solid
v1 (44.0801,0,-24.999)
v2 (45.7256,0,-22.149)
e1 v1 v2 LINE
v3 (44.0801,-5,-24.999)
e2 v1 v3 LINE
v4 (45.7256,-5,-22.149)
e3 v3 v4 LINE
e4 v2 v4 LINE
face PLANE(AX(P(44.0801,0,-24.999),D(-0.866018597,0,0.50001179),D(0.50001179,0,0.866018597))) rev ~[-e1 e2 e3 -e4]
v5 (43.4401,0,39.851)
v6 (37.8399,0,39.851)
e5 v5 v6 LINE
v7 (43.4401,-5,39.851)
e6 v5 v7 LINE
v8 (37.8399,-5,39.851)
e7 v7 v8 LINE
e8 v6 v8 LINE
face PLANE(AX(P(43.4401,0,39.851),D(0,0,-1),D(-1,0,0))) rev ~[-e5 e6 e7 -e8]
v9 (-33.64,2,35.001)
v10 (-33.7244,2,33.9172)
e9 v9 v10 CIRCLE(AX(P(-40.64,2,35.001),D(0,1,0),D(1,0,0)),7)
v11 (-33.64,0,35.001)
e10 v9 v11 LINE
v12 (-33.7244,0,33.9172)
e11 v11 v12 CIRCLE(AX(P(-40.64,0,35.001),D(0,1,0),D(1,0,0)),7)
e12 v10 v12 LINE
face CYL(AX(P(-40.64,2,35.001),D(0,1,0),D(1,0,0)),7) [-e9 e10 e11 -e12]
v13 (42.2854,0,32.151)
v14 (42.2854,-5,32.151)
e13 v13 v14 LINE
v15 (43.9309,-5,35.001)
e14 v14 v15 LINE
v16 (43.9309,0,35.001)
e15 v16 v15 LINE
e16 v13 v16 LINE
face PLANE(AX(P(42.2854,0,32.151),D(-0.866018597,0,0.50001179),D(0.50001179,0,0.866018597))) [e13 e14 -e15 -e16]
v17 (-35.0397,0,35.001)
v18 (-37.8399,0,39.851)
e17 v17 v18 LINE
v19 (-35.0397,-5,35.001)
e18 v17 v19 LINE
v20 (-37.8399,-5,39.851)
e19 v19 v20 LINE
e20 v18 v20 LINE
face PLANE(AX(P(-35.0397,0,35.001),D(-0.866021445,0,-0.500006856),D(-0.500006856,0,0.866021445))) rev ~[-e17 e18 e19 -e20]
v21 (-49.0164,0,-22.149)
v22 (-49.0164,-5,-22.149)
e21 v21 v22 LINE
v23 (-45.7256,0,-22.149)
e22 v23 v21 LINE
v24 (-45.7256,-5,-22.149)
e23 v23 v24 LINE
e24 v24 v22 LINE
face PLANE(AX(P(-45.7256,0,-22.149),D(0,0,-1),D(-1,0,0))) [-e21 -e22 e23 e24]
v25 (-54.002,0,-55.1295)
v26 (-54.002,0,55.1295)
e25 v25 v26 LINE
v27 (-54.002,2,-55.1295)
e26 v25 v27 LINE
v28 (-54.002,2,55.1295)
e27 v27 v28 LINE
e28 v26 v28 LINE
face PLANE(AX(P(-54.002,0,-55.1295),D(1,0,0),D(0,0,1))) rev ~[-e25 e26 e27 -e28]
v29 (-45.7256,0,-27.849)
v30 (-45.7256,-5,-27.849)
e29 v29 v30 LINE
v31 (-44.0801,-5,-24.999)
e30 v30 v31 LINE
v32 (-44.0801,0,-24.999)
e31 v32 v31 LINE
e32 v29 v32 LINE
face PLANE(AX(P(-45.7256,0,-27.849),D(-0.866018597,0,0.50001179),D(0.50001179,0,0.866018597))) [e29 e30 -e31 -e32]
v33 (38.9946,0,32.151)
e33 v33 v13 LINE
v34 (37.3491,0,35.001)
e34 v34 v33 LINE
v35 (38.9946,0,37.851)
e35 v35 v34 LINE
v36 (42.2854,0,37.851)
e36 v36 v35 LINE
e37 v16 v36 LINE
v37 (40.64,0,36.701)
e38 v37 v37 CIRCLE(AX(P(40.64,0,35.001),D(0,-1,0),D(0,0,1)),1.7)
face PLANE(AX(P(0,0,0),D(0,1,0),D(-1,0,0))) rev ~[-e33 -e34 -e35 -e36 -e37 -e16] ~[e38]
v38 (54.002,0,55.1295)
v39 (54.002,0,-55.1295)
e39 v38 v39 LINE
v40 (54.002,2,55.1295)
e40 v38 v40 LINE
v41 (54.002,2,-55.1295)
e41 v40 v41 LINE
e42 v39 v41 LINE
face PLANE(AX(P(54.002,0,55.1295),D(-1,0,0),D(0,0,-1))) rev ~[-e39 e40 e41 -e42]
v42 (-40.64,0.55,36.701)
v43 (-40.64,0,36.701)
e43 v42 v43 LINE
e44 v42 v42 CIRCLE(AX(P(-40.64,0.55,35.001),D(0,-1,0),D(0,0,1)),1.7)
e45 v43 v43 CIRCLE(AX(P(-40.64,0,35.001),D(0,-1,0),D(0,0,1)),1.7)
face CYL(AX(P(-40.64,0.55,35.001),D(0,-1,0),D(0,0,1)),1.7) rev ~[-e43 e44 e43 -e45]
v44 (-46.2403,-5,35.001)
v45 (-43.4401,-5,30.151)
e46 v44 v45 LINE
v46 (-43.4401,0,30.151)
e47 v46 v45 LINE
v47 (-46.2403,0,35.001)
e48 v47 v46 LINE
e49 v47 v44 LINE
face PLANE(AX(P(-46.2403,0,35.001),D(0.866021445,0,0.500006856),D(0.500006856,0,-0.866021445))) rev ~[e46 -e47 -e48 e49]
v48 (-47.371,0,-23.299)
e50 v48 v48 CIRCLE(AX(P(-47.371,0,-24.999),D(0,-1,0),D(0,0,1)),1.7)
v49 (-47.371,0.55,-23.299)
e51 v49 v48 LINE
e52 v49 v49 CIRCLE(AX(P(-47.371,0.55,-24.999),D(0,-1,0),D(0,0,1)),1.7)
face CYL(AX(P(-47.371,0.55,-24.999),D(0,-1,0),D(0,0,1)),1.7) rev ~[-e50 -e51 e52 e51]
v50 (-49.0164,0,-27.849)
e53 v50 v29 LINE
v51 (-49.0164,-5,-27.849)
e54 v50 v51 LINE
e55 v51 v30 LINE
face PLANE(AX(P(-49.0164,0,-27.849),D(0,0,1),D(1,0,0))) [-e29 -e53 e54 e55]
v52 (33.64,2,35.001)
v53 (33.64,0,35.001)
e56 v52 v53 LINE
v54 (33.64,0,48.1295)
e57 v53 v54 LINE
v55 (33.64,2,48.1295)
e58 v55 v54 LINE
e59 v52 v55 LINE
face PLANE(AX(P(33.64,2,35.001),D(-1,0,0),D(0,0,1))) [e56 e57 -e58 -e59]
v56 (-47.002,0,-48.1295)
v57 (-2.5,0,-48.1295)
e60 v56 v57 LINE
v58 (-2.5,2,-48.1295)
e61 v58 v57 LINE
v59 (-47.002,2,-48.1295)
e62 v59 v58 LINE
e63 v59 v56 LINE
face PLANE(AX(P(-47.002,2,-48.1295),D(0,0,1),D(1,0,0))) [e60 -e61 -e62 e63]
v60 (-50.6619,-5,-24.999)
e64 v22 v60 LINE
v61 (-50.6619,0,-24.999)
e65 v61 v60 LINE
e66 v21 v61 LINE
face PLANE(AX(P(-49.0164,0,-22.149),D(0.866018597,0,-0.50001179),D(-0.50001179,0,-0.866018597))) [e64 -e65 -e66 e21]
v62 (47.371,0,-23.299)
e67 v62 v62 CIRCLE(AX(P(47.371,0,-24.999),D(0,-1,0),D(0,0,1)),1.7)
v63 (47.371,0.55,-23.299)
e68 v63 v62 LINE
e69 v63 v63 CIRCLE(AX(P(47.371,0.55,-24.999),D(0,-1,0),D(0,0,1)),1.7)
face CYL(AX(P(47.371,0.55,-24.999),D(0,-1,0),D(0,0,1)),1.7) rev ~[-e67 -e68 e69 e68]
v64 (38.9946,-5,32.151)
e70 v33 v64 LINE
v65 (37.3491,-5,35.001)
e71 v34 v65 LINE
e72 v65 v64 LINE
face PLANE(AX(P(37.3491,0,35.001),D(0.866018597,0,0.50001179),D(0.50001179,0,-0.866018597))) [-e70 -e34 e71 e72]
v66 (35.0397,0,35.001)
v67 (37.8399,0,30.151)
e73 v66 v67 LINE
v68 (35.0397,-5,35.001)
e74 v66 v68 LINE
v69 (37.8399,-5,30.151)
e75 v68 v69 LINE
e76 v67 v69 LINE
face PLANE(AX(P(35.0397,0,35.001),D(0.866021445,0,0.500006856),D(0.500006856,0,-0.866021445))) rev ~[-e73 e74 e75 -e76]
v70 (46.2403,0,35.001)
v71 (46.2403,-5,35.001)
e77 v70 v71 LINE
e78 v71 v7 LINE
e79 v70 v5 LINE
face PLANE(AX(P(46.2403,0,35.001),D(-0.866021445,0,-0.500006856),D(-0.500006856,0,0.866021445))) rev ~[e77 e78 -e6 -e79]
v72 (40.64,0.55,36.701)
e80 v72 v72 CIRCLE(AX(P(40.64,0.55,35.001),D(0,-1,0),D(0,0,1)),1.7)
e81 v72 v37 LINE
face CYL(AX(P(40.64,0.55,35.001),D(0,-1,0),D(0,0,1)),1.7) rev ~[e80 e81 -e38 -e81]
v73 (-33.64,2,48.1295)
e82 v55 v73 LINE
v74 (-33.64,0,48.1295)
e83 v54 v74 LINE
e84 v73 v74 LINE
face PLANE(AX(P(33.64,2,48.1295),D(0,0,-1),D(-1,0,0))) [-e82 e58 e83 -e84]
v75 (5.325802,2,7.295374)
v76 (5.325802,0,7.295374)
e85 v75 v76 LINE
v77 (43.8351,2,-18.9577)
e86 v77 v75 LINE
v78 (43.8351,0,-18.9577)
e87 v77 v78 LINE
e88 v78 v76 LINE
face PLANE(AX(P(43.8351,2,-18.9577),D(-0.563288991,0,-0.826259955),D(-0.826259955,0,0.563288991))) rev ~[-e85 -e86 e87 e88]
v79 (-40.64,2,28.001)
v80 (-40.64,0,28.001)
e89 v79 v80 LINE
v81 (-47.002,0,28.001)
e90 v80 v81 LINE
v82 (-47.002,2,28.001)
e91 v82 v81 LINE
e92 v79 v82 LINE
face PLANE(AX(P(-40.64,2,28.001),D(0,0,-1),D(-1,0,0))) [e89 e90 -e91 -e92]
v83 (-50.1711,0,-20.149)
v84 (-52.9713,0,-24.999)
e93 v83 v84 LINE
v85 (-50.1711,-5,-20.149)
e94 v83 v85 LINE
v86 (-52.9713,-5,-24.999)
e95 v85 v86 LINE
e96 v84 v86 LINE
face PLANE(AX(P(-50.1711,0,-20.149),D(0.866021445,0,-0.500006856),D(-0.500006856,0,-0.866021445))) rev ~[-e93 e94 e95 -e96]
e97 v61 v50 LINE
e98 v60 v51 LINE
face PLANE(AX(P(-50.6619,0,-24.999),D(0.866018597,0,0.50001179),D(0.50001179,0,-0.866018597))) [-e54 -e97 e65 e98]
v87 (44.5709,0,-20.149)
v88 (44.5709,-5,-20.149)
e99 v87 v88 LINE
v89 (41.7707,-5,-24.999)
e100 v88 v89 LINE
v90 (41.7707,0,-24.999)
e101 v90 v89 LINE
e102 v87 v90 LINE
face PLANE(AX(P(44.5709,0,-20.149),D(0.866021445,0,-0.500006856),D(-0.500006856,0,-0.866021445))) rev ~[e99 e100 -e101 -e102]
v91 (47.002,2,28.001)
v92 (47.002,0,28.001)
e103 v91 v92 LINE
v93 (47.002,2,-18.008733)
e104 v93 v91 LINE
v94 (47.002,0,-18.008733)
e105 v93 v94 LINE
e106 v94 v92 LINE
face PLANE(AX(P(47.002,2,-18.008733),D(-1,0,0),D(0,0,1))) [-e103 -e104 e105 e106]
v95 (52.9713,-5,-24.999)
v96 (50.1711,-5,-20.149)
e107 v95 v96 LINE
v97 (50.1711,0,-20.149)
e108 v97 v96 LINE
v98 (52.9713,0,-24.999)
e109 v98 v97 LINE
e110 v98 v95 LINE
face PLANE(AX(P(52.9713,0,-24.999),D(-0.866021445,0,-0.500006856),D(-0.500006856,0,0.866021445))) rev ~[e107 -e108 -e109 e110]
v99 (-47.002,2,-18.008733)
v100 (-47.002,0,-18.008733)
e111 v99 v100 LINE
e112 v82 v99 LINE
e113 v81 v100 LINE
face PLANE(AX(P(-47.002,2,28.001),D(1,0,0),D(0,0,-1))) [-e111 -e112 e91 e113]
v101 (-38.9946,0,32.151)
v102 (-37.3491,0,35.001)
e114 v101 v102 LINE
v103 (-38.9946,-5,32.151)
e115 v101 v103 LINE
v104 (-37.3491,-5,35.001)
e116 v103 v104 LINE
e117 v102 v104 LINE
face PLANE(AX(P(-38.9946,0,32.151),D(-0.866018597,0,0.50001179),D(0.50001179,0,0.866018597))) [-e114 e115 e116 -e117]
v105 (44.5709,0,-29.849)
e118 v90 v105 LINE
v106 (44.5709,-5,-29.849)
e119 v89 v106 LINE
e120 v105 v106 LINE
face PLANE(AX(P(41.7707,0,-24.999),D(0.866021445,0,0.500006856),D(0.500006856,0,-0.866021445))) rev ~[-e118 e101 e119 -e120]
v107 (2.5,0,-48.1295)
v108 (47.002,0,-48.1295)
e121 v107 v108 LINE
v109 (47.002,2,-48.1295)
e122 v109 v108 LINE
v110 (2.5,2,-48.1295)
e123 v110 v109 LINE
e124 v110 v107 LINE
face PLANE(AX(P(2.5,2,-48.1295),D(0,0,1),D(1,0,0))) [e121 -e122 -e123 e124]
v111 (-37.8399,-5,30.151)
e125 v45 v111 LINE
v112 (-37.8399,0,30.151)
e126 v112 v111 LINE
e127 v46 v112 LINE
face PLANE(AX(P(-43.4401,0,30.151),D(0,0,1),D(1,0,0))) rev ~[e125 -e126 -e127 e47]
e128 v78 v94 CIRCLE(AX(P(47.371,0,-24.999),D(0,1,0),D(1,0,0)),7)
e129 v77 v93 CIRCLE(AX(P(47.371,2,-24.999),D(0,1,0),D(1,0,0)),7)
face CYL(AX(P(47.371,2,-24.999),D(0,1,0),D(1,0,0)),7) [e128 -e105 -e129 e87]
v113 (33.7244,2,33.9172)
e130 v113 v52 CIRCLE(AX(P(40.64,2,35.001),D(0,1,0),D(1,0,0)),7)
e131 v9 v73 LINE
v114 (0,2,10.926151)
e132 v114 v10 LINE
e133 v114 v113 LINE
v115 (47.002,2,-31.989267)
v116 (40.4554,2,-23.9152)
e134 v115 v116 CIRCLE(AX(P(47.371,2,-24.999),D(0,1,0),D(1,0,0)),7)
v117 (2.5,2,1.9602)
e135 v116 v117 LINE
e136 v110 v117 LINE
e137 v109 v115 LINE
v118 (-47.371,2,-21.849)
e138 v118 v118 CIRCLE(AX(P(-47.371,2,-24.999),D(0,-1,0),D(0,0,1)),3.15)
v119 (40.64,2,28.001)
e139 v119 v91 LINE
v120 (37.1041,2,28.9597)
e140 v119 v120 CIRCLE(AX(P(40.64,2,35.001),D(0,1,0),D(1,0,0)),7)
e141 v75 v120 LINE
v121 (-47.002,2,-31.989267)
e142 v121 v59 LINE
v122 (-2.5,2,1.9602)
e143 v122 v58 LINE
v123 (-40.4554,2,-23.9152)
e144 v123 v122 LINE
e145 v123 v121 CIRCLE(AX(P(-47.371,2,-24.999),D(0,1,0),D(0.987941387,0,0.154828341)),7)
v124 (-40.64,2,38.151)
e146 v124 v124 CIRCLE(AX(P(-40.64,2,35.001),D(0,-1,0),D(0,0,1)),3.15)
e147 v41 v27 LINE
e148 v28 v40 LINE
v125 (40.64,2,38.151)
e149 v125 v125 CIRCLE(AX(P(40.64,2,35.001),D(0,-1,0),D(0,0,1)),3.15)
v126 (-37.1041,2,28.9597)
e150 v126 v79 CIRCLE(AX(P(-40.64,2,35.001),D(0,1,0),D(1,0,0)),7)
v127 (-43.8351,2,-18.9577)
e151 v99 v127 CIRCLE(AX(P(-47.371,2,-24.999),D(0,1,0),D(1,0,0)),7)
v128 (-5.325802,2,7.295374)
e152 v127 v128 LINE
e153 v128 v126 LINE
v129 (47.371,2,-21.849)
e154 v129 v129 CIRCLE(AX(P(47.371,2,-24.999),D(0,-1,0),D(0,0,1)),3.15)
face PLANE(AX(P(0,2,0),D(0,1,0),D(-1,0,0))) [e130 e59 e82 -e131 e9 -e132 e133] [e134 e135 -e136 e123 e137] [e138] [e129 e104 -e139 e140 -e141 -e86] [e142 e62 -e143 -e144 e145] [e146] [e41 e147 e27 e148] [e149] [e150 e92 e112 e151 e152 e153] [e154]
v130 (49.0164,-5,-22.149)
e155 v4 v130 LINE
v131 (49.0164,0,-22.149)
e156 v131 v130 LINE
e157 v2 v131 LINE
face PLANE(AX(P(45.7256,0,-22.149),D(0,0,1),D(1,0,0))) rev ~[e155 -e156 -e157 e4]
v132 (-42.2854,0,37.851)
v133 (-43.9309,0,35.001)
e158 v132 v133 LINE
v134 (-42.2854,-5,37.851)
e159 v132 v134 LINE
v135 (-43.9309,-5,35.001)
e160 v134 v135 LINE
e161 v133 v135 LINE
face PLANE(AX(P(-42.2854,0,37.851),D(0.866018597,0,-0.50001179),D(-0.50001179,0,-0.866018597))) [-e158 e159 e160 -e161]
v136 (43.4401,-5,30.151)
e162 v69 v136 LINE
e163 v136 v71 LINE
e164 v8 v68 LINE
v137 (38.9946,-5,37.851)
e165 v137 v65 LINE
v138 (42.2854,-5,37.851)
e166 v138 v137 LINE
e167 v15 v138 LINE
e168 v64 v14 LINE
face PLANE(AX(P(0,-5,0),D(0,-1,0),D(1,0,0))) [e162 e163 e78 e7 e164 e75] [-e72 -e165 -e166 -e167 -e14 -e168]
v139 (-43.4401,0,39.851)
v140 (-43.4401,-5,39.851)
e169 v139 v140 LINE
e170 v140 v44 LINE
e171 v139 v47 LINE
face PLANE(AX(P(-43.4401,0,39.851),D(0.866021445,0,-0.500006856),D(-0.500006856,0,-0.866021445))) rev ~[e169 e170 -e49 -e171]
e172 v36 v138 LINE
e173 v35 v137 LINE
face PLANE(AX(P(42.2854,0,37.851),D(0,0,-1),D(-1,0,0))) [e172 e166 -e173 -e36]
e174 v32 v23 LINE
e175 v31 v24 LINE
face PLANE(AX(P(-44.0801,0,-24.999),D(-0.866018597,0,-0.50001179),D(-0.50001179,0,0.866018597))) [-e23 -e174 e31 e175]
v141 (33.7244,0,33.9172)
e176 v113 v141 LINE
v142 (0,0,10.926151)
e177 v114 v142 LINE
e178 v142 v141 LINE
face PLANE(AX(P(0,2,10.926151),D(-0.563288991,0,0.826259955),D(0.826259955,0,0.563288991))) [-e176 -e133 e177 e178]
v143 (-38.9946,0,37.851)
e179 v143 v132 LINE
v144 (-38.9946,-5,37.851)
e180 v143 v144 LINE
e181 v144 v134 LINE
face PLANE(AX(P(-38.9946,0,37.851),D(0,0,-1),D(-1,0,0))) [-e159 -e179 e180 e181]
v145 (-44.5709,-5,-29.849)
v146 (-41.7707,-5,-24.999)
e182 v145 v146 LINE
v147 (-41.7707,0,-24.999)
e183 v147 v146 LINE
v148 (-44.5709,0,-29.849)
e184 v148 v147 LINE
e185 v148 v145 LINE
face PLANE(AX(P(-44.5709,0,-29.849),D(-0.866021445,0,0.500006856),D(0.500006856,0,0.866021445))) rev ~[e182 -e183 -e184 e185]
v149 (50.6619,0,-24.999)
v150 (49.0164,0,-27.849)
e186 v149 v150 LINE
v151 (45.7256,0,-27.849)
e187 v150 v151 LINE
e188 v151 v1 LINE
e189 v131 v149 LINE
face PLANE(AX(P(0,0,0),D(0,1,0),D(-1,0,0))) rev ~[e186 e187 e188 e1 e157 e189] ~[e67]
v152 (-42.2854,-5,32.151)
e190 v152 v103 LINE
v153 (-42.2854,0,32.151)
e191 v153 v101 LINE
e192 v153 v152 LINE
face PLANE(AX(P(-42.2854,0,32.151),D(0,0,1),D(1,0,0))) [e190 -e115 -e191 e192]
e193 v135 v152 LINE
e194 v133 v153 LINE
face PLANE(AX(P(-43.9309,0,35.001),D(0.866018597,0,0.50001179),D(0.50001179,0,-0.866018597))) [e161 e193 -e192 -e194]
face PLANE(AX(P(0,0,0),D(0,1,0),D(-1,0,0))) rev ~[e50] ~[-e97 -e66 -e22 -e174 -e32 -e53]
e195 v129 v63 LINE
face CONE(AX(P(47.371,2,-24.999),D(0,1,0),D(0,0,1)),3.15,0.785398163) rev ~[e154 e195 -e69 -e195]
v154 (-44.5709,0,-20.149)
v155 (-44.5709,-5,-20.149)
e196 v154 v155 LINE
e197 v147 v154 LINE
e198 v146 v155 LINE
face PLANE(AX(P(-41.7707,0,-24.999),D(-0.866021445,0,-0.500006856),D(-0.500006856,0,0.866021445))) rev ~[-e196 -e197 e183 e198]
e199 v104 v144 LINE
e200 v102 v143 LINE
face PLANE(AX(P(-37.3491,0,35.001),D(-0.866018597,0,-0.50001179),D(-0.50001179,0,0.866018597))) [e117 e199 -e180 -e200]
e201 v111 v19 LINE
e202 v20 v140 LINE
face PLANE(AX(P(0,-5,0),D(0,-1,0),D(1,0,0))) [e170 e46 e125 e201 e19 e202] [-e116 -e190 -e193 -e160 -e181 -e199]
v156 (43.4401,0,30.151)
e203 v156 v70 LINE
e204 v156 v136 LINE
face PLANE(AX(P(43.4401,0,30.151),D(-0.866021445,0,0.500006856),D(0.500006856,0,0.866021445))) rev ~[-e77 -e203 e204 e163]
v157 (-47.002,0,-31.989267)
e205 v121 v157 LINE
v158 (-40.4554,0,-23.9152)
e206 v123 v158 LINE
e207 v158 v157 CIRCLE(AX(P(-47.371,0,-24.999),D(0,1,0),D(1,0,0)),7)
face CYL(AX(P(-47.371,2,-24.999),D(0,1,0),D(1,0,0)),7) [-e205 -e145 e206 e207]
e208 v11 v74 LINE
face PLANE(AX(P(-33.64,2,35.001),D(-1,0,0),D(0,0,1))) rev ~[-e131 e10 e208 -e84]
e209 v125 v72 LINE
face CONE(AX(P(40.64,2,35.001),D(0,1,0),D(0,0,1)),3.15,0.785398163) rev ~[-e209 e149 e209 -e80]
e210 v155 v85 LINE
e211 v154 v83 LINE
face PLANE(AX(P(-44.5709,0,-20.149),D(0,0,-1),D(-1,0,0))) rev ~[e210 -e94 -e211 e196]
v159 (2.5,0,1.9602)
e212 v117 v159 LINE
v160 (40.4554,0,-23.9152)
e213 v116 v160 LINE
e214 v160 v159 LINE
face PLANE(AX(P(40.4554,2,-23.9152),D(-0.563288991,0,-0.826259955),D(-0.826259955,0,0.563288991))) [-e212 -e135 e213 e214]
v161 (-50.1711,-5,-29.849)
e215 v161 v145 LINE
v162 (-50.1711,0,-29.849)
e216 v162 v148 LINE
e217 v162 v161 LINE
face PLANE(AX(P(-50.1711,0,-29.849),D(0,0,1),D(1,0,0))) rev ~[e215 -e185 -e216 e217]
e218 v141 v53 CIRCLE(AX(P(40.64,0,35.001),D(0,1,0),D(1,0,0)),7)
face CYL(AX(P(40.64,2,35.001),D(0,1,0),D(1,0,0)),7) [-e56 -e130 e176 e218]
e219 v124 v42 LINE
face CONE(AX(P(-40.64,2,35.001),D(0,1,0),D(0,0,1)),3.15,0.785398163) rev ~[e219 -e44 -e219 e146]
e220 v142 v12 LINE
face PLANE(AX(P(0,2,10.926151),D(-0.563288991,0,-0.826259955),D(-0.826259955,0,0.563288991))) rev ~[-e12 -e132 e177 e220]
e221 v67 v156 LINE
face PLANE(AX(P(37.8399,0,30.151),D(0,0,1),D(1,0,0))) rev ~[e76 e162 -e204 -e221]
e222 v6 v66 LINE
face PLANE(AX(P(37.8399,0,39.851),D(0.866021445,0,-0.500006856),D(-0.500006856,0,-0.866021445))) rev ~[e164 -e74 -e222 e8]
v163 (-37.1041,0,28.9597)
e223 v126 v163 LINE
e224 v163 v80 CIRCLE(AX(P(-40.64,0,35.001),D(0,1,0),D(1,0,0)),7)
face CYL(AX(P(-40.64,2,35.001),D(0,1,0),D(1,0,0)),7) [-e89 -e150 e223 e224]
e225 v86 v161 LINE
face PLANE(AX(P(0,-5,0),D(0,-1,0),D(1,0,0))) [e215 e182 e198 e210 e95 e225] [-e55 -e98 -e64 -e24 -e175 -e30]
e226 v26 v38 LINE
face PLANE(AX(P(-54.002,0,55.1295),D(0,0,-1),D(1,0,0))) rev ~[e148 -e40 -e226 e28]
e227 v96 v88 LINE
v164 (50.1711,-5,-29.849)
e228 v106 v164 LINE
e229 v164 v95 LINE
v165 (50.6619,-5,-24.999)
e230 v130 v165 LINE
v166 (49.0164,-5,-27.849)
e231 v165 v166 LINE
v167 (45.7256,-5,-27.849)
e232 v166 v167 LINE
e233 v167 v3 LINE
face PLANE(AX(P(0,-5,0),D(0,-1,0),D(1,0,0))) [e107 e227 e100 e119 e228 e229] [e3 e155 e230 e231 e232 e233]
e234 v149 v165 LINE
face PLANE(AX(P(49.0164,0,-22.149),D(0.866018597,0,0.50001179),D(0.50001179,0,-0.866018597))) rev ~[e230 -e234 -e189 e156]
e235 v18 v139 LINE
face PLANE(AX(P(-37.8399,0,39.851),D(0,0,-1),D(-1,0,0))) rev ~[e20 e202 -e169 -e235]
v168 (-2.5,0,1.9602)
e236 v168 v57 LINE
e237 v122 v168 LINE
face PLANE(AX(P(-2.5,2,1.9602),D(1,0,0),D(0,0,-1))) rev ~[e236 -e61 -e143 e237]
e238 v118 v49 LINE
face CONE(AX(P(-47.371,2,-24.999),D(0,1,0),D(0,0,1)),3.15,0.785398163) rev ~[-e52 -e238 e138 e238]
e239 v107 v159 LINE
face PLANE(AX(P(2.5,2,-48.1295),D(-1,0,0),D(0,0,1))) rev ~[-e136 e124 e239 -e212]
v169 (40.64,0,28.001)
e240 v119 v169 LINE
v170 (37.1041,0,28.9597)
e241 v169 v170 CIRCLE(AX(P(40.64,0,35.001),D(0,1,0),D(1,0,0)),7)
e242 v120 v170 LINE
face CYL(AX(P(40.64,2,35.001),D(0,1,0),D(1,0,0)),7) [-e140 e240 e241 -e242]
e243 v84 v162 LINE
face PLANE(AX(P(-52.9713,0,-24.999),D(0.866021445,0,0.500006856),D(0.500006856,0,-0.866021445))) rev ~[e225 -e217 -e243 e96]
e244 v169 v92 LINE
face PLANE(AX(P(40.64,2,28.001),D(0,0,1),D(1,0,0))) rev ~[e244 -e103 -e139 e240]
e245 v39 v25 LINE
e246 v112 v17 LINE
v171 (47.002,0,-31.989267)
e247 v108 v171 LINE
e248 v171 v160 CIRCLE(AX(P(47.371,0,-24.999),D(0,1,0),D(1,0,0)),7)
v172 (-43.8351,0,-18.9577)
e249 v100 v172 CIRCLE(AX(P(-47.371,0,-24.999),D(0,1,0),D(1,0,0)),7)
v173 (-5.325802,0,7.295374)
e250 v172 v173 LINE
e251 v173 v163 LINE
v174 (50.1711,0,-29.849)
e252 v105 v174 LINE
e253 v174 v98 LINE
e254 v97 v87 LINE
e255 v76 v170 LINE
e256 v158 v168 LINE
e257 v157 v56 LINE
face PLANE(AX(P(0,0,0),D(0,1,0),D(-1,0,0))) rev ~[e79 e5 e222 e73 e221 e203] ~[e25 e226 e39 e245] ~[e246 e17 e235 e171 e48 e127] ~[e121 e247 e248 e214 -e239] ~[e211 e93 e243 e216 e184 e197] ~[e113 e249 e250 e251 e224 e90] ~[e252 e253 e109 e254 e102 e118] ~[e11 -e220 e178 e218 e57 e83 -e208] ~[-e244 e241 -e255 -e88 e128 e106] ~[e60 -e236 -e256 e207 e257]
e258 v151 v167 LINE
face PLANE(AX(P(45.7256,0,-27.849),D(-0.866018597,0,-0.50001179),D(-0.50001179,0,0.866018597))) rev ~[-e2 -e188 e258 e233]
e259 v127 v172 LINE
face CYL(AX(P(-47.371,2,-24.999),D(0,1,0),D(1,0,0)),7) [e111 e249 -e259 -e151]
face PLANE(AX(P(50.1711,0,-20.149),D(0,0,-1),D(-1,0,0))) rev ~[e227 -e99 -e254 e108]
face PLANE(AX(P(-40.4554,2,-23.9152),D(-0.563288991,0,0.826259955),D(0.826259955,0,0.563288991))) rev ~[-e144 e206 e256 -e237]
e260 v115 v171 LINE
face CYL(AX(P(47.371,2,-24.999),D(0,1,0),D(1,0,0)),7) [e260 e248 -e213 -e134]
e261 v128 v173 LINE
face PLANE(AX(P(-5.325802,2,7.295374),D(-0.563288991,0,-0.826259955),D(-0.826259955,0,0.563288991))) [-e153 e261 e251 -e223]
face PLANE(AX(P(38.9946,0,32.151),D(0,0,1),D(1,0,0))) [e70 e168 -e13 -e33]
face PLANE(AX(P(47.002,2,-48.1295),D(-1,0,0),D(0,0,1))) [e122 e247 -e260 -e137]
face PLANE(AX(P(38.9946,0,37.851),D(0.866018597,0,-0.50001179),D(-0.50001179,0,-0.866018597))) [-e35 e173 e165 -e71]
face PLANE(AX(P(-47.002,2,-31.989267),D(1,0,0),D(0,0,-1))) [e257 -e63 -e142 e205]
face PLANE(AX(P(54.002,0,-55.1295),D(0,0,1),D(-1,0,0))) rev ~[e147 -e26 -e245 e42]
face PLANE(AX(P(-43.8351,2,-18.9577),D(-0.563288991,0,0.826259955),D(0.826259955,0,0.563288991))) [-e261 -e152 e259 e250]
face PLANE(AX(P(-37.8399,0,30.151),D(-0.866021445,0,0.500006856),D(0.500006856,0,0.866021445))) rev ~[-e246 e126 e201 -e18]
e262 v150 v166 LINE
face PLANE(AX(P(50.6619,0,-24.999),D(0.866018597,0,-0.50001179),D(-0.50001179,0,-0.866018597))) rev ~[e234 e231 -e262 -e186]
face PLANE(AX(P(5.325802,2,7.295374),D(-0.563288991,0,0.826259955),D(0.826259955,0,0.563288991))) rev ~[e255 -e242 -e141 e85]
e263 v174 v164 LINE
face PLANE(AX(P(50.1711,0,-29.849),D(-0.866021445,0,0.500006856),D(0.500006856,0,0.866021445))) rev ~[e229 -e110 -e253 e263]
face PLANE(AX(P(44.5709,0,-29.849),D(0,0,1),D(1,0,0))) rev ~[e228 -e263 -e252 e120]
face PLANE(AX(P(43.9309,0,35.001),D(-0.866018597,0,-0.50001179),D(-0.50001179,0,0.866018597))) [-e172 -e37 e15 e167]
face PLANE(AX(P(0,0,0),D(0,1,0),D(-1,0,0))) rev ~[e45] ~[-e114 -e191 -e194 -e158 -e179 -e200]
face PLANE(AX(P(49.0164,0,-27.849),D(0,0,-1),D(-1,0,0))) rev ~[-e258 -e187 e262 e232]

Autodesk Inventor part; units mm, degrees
ref_plane "YZ Plane" through (0, 0, 0) normal (1, 0, 0) x (0, 1, 0)
ref_plane "XZ Plane" through (0, 0, 0) normal (0, 1, 0) x (-1, 0, 0)
ref_plane "XY Plane" through (0, 0, 0) normal (0, 0, 1) x (1, 0, 0)
sketch "Sketch1" plane through (0, 0, 0) normal (0, 1, 0) x (-1, 0, 0)
  circle A0 centre (0, 0) radius 80 construction
  line L0 (56.002, 57.1295) -> (-56.002, 57.1295) construction
  line L1 (-56.002, 57.1295) -> (-56.002, -57.1295) construction
  line L2 (-56.002, -57.1295) -> (56.002, -57.1295) construction
  line L3 (56.002, -57.1295) -> (56.002, 57.1295) construction
  line L4 (56.002, 57.1295) -> (-56.002, -57.1295) construction
  line L5 (-56.002, 57.1295) -> (56.002, -57.1295) construction
  line L6 (54.002, 55.1295) -> (-54.002, 55.1295)
  line L7 (-54.002, 55.1295) -> (-54.002, -55.1295)
  line L8 (-54.002, -55.1295) -> (54.002, -55.1295)
  line L9 (54.002, -55.1295) -> (54.002, 55.1295)
  dimension "d0" = 160
  dimension "d1" = 2
extrude "Extrusion1" add sketch "Sketch1" along normal blind 2
sketch "Sketch2" plane through (0, 0, 0) normal (0, -1, 0) x (1, 0, 0)
  line L0 (-39.0523, 32.251) -> (-42.2277, 32.251) construction
  line L1 (-42.2277, 32.251) -> (-43.8154, 35.001) construction
  line L2 (-43.8154, 35.001) -> (-42.2277, 37.751) construction
  line L3 (-42.2277, 37.751) -> (-39.0523, 37.751) construction
  line L4 (-39.0523, 37.751) -> (-37.4646, 35.001) construction
  line L5 (-37.4646, 35.001) -> (-39.0523, 32.251) construction
  line L6 (42.2277, 32.251) -> (39.0523, 32.251) construction
  line L7 (39.0523, 32.251) -> (37.4646, 35.001) construction
  line L8 (37.4646, 35.001) -> (39.0523, 37.751) construction
  line L9 (39.0523, 37.751) -> (42.2277, 37.751) construction
  line L10 (42.2277, 37.751) -> (43.8154, 35.001) construction
  line L11 (43.8154, 35.001) -> (42.2277, 32.251) construction
  line L12 (48.9587, -27.749) -> (45.7833, -27.749) construction
  line L13 (45.7833, -27.749) -> (44.1956, -24.999) construction
  line L14 (44.1956, -24.999) -> (45.7833, -22.249) construction
  line L15 (45.7833, -22.249) -> (48.9587, -22.249) construction
  line L16 (48.9587, -22.249) -> (50.5464, -24.999) construction
  line L17 (50.5464, -24.999) -> (48.9587, -27.749) construction
  line L18 (-45.7833, -22.249) -> (-44.1956, -24.999) construction
  line L19 (-44.1956, -24.999) -> (-45.7833, -27.749) construction
  line L20 (-45.7833, -27.749) -> (-48.9587, -27.749) construction
  line L21 (-48.9587, -27.749) -> (-50.5464, -24.999) construction
  line L22 (-50.5464, -24.999) -> (-48.9587, -22.249) construction
  line L23 (-48.9587, -22.249) -> (-45.7833, -22.249) construction
  line L24 (-47.371, -24.999) -> (47.371, -24.999) construction
  line L25 (-40.64, 35.001) -> (40.64, 35.001) construction
  line L26 (-75.6027, 0) -> (75.6027, 0) construction
  line L27 (0, -77.1813) -> (0, 77.1813) construction
  line L28 (-37.3491, 35.001) -> (-38.9946, 37.851)
  line L29 (-38.9946, 37.851) -> (-42.2854, 37.851)
  line L30 (-42.2854, 37.851) -> (-43.9309, 35.001)
  line L31 (-43.9309, 35.001) -> (-42.2854, 32.151)
  line L32 (-42.2854, 32.151) -> (-38.9946, 32.151)
  line L33 (-38.9946, 32.151) -> (-37.3491, 35.001)
  line L34 (49.0164, -27.849) -> (45.7256, -27.849)
  line L35 (45.7256, -27.849) -> (44.0801, -24.999)
  line L36 (44.0801, -24.999) -> (45.7256, -22.149)
  line L37 (45.7256, -22.149) -> (49.0164, -22.149)
  line L38 (49.0164, -22.149) -> (50.6619, -24.999)
  line L39 (50.6619, -24.999) -> (49.0164, -27.849)
  line L40 (43.9309, 35.001) -> (42.2854, 37.851)
  line L41 (42.2854, 37.851) -> (38.9946, 37.851)
  line L42 (38.9946, 37.851) -> (37.3491, 35.001)
  line L43 (37.3491, 35.001) -> (38.9946, 32.151)
  line L44 (38.9946, 32.151) -> (42.2854, 32.151)
  line L45 (42.2854, 32.151) -> (43.9309, 35.001)
  line L46 (-45.7256, -27.849) -> (-44.0801, -24.999)
  line L47 (-44.0801, -24.999) -> (-45.7256, -22.149)
  line L48 (-45.7256, -22.149) -> (-49.0164, -22.149)
  line L49 (-49.0164, -22.149) -> (-50.6619, -24.999)
  line L50 (-50.6619, -24.999) -> (-49.0164, -27.849)
  line L51 (-49.0164, -27.849) -> (-45.7256, -27.849)
  line L52 (-35.0397, 35.001) -> (-37.8399, 39.851)
  line L53 (-37.8399, 39.851) -> (-43.4401, 39.851)
  line L54 (-43.4401, 39.851) -> (-46.2403, 35.001)
  line L55 (-46.2403, 35.001) -> (-43.4401, 30.151)
  line L56 (-43.4401, 30.151) -> (-37.8399, 30.151)
  line L57 (-37.8399, 30.151) -> (-35.0397, 35.001)
  line L58 (46.2403, 35.001) -> (43.4401, 39.851)
  line L59 (43.4401, 39.851) -> (37.8399, 39.851)
  line L60 (37.8399, 39.851) -> (35.0397, 35.001)
  line L61 (35.0397, 35.001) -> (37.8399, 30.151)
  line L62 (37.8399, 30.151) -> (43.4401, 30.151)
  line L63 (43.4401, 30.151) -> (46.2403, 35.001)
  line L64 (44.5709, -29.849) -> (50.1711, -29.849)
  line L65 (50.1711, -29.849) -> (52.9713, -24.999)
  line L66 (52.9713, -24.999) -> (50.1711, -20.149)
  line L67 (50.1711, -20.149) -> (44.5709, -20.149)
  line L68 (44.5709, -20.149) -> (41.7707, -24.999)
  line L69 (41.7707, -24.999) -> (44.5709, -29.849)
  line L70 (-44.5709, -29.849) -> (-41.7707, -24.999)
  line L71 (-41.7707, -24.999) -> (-44.5709, -20.149)
  line L72 (-44.5709, -20.149) -> (-50.1711, -20.149)
  line L73 (-50.1711, -20.149) -> (-52.9713, -24.999)
  line L74 (-52.9713, -24.999) -> (-50.1711, -29.849)
  line L75 (-50.1711, -29.849) -> (-44.5709, -29.849)
  point P0 (0, 0)
  point P1 (0, 35.001)
  point P2 (0, -24.999)
  dimension "d4" = 5.5
  dimension "d5" = 5.5
  dimension "d6" = 5.5
  dimension "d7" = 5.5
  dimension "d8" = 81.28
  dimension "d9" = 94.742
  dimension "d10" = 24.999
  dimension "d11" = 35.001
  dimension "d12" = 0.1
  dimension "d13" = 0.1
  dimension "d14" = 0.1
  dimension "d15" = 0.1
  dimension "d16" = 2
  dimension "d17" = 2
  dimension "d18" = 2
  dimension "d19" = 2
extrude "Extrusion2" add sketch "Sketch2" along normal blind 5
sketch "Sketch3" plane through (0, 2, 0) normal (0, 1, 0) x (1, 0, 0)
  line L0 (-42.2854, -37.851) -> (-43.9309, -35.001) construction
  line L1 (-43.9309, -35.001) -> (-42.2854, -32.151) construction
  line L2 (-42.2854, -32.151) -> (-38.9946, -32.151) construction
  line L3 (-38.9946, -32.151) -> (-37.3491, -35.001) construction
  line L4 (-37.3491, -35.001) -> (-38.9946, -37.851) construction
  line L5 (-38.9946, -37.851) -> (-42.2854, -37.851) construction
  line L6 (-50.6619, 24.999) -> (-49.0164, 27.849) construction
  line L7 (-49.0164, 27.849) -> (-45.7256, 27.849) construction
  line L8 (-45.7256, 27.849) -> (-44.0801, 24.999) construction
  line L9 (-44.0801, 24.999) -> (-45.7256, 22.149) construction
  line L10 (-45.7256, 22.149) -> (-49.0164, 22.149) construction
  line L11 (-49.0164, 22.149) -> (-50.6619, 24.999) construction
  line L12 (50.6619, 24.999) -> (49.0164, 22.149) construction
  line L13 (49.0164, 22.149) -> (45.7256, 22.149) construction
  line L14 (45.7256, 22.149) -> (44.0801, 24.999) construction
  line L15 (44.0801, 24.999) -> (45.7256, 27.849) construction
  line L16 (45.7256, 27.849) -> (49.0164, 27.849) construction
  line L17 (49.0164, 27.849) -> (50.6619, 24.999) construction
  line L18 (42.2854, -32.151) -> (43.9309, -35.001) construction
  line L19 (43.9309, -35.001) -> (42.2854, -37.851) construction
  line L20 (42.2854, -37.851) -> (38.9946, -37.851) construction
  line L21 (38.9946, -37.851) -> (37.3491, -35.001) construction
  line L22 (37.3491, -35.001) -> (38.9946, -32.151) construction
  line L23 (38.9946, -32.151) -> (42.2854, -32.151) construction
  line L24 (47.371, 27.849) -> (47.371, 22.149) construction
  line L25 (49.0164, 22.149) -> (50.6619, 24.999) construction
  line L26 (-49.0164, 22.149) -> (-50.6619, 24.999) construction
  line L27 (50.6619, 24.999) -> (-50.6619, 24.999) construction
  line L28 (-49.0164, 27.849) -> (-45.7256, 27.849) construction
  line L29 (-47.371, 27.849) -> (-47.371, 22.149) construction
  line L30 (-45.7256, 22.149) -> (-49.0164, 22.149) construction
  line L31 (-38.9946, -37.851) -> (-42.2854, -37.851) construction
  line L32 (-40.64, -37.851) -> (-40.64, -32.151) construction
  line L33 (-43.9309, -35.001) -> (43.9309, -35.001) construction
  line L34 (38.9946, -32.151) -> (42.2854, -32.151) construction
  line L35 (40.64, -32.151) -> (40.64, -37.851) construction
  point P0 (0, 0)
  point P1 (-47.371, 24.999)
  point P2 (47.371, 24.999)
  point P3 (40.64, -35.001)
  point P4 (-40.64, -35.001)
hole "Hole1" at (-47.371, 2, -24.999) at (47.371, 2, -24.999) at (40.64, 2, 35.001) at (-40.64, 2, 35.001) direction (0, -1, 0) diameter 3.4 end through all countersink diameter 6.3 countersink angle 90 clearance for "Countersunk Flat Head Screw ISO 2009/7046" size "M3" standard "ISO"
sketch "Sketch4" plane through (0, 2, 0) normal (0, 1, 0) x (1, 0, 0)
  circle A0 centre (47.371, 24.999) radius 3.15 construction
  circle A1 centre (-47.371, 24.999) radius 3.15 construction
  line L0 (54.002, 55.1295) -> (-54.002, 55.1295) construction
  circle A2 centre (40.64, -35.001) radius 3.15 construction
  circle A3 centre (-40.64, -35.001) radius 3.15 construction
  line L1 (-54.002, -55.1295) -> (54.002, -55.1295) construction
  circle A4 centre (-47.371, 24.999) radius 1.7 construction
  circle A5 centre (40.64, -35.001) radius 1.7 construction
  line L2 (-47.371, 24.999) -> (40.64, -35.001) construction
  line L3 (47.371, 24.999) -> (-40.64, -35.001) construction
  line L4 (-40.4554, 23.9152) -> (37.1041, -28.9597)
  line L5 (-43.8351, 18.9577) -> (33.7244, -33.9172)
  line L6 (43.8351, 18.9577) -> (-33.7244, -33.9172)
  line L7 (40.4554, 23.9152) -> (-37.1041, -28.9597)
  line L8 (-2.5, 48.1295) -> (2.5, 48.1295)
  line L9 (2.5, 48.1295) -> (2.5, -1.9602)
  line L10 (2.5, -1.9602) -> (-2.5, -1.9602)
  line L11 (-2.5, -1.9602) -> (-2.5, 48.1295)
  circle A6 centre (-47.371, 24.999) radius 7
  circle A7 centre (47.371, 24.999) radius 1.7 projected
  circle A8 centre (47.371, 24.999) radius 7
  circle A9 centre (40.64, -35.001) radius 7
  circle A10 centre (-40.64, -35.001) radius 7
  circle A11 centre (40.64, -35.001) radius 3.15 construction
  circle A12 centre (-47.371, 24.999) radius 3.15 construction
  circle A13 centre (47.371, 24.999) radius 3.15 construction
  circle A14 centre (-40.64, -35.001) radius 3.15 construction
  line L12 (54.002, 55.1295) -> (-54.002, 55.1295) construction
  line L13 (-54.002, 55.1295) -> (-54.002, -55.1295) construction
  line L14 (-54.002, -55.1295) -> (54.002, -55.1295) construction
  line L15 (54.002, -55.1295) -> (54.002, 55.1295) construction
  line L16 (-47.002, -48.1295) -> (-47.002, 48.1295)
  line L17 (-47.002, 48.1295) -> (47.002, 48.1295)
  line L18 (47.002, 48.1295) -> (47.002, -48.1295)
  line L19 (47.002, -48.1295) -> (-47.002, -48.1295)
  line L20 (40.64, -28.001) -> (47.002, -28.001)
  line L21 (-40.64, -28.001) -> (-47.002, -28.001)
  line L22 (-33.64, -35.001) -> (-33.64, -48.1295)
  line L23 (33.64, -35.001) -> (33.64, -48.1295)
  point P0 (0, -10.9262)
  point P1 (5.3259, -7.2954)
  point P2 (-5.3259, -7.2954)
  point P3 (-47.002, 18.0087)
  point P4 (47.002, 18.0087)
  point P5 (47.002, 31.9893)
  point P6 (-47.002, 31.9893)
  dimension "d43" = 3
  dimension "d44" = 3
  dimension "d45" = 3
  dimension "d46" = 3
  dimension "d47" = 5
  dimension "d50" = 14
  dimension "d51" = 14
  dimension "d52" = 14
  dimension "d53" = 14
  dimension "d54" = 7
extrude "Extrusion3" cut sketch "Sketch4" against normal through all contours A6 L16 L17 L11 L4 | L5 L7 A10 L21 L16 A6 | L9 L17 L18 A8 L7 | L6 A8 L18 L20 A9 L4 | L5 A9 L23 L19 L22 A10 L6
equation "\"d5\" = d4"
equation "\"d6\" = d4"
equation "\"d7\" = d4"
equation "\"d17\" = d16"
equation "\"d18\" = d16"
equation "\"d19\" = d16"
equation "\"d44\" = d43"
equation "\"d45\" = d43"
equation "\"d46\" = d43"
equation "\"d50\" = 2 * d35"
equation "\"d51\" = 2 * d35"
equation "\"d52\" = 2 * d35"
equation "\"d53\" = 2 * d35"
equation "\"d54\" = d35"
equation "\"d39\" = d35"
equation "\"d35\" = 7"
properties part number "top_base"
